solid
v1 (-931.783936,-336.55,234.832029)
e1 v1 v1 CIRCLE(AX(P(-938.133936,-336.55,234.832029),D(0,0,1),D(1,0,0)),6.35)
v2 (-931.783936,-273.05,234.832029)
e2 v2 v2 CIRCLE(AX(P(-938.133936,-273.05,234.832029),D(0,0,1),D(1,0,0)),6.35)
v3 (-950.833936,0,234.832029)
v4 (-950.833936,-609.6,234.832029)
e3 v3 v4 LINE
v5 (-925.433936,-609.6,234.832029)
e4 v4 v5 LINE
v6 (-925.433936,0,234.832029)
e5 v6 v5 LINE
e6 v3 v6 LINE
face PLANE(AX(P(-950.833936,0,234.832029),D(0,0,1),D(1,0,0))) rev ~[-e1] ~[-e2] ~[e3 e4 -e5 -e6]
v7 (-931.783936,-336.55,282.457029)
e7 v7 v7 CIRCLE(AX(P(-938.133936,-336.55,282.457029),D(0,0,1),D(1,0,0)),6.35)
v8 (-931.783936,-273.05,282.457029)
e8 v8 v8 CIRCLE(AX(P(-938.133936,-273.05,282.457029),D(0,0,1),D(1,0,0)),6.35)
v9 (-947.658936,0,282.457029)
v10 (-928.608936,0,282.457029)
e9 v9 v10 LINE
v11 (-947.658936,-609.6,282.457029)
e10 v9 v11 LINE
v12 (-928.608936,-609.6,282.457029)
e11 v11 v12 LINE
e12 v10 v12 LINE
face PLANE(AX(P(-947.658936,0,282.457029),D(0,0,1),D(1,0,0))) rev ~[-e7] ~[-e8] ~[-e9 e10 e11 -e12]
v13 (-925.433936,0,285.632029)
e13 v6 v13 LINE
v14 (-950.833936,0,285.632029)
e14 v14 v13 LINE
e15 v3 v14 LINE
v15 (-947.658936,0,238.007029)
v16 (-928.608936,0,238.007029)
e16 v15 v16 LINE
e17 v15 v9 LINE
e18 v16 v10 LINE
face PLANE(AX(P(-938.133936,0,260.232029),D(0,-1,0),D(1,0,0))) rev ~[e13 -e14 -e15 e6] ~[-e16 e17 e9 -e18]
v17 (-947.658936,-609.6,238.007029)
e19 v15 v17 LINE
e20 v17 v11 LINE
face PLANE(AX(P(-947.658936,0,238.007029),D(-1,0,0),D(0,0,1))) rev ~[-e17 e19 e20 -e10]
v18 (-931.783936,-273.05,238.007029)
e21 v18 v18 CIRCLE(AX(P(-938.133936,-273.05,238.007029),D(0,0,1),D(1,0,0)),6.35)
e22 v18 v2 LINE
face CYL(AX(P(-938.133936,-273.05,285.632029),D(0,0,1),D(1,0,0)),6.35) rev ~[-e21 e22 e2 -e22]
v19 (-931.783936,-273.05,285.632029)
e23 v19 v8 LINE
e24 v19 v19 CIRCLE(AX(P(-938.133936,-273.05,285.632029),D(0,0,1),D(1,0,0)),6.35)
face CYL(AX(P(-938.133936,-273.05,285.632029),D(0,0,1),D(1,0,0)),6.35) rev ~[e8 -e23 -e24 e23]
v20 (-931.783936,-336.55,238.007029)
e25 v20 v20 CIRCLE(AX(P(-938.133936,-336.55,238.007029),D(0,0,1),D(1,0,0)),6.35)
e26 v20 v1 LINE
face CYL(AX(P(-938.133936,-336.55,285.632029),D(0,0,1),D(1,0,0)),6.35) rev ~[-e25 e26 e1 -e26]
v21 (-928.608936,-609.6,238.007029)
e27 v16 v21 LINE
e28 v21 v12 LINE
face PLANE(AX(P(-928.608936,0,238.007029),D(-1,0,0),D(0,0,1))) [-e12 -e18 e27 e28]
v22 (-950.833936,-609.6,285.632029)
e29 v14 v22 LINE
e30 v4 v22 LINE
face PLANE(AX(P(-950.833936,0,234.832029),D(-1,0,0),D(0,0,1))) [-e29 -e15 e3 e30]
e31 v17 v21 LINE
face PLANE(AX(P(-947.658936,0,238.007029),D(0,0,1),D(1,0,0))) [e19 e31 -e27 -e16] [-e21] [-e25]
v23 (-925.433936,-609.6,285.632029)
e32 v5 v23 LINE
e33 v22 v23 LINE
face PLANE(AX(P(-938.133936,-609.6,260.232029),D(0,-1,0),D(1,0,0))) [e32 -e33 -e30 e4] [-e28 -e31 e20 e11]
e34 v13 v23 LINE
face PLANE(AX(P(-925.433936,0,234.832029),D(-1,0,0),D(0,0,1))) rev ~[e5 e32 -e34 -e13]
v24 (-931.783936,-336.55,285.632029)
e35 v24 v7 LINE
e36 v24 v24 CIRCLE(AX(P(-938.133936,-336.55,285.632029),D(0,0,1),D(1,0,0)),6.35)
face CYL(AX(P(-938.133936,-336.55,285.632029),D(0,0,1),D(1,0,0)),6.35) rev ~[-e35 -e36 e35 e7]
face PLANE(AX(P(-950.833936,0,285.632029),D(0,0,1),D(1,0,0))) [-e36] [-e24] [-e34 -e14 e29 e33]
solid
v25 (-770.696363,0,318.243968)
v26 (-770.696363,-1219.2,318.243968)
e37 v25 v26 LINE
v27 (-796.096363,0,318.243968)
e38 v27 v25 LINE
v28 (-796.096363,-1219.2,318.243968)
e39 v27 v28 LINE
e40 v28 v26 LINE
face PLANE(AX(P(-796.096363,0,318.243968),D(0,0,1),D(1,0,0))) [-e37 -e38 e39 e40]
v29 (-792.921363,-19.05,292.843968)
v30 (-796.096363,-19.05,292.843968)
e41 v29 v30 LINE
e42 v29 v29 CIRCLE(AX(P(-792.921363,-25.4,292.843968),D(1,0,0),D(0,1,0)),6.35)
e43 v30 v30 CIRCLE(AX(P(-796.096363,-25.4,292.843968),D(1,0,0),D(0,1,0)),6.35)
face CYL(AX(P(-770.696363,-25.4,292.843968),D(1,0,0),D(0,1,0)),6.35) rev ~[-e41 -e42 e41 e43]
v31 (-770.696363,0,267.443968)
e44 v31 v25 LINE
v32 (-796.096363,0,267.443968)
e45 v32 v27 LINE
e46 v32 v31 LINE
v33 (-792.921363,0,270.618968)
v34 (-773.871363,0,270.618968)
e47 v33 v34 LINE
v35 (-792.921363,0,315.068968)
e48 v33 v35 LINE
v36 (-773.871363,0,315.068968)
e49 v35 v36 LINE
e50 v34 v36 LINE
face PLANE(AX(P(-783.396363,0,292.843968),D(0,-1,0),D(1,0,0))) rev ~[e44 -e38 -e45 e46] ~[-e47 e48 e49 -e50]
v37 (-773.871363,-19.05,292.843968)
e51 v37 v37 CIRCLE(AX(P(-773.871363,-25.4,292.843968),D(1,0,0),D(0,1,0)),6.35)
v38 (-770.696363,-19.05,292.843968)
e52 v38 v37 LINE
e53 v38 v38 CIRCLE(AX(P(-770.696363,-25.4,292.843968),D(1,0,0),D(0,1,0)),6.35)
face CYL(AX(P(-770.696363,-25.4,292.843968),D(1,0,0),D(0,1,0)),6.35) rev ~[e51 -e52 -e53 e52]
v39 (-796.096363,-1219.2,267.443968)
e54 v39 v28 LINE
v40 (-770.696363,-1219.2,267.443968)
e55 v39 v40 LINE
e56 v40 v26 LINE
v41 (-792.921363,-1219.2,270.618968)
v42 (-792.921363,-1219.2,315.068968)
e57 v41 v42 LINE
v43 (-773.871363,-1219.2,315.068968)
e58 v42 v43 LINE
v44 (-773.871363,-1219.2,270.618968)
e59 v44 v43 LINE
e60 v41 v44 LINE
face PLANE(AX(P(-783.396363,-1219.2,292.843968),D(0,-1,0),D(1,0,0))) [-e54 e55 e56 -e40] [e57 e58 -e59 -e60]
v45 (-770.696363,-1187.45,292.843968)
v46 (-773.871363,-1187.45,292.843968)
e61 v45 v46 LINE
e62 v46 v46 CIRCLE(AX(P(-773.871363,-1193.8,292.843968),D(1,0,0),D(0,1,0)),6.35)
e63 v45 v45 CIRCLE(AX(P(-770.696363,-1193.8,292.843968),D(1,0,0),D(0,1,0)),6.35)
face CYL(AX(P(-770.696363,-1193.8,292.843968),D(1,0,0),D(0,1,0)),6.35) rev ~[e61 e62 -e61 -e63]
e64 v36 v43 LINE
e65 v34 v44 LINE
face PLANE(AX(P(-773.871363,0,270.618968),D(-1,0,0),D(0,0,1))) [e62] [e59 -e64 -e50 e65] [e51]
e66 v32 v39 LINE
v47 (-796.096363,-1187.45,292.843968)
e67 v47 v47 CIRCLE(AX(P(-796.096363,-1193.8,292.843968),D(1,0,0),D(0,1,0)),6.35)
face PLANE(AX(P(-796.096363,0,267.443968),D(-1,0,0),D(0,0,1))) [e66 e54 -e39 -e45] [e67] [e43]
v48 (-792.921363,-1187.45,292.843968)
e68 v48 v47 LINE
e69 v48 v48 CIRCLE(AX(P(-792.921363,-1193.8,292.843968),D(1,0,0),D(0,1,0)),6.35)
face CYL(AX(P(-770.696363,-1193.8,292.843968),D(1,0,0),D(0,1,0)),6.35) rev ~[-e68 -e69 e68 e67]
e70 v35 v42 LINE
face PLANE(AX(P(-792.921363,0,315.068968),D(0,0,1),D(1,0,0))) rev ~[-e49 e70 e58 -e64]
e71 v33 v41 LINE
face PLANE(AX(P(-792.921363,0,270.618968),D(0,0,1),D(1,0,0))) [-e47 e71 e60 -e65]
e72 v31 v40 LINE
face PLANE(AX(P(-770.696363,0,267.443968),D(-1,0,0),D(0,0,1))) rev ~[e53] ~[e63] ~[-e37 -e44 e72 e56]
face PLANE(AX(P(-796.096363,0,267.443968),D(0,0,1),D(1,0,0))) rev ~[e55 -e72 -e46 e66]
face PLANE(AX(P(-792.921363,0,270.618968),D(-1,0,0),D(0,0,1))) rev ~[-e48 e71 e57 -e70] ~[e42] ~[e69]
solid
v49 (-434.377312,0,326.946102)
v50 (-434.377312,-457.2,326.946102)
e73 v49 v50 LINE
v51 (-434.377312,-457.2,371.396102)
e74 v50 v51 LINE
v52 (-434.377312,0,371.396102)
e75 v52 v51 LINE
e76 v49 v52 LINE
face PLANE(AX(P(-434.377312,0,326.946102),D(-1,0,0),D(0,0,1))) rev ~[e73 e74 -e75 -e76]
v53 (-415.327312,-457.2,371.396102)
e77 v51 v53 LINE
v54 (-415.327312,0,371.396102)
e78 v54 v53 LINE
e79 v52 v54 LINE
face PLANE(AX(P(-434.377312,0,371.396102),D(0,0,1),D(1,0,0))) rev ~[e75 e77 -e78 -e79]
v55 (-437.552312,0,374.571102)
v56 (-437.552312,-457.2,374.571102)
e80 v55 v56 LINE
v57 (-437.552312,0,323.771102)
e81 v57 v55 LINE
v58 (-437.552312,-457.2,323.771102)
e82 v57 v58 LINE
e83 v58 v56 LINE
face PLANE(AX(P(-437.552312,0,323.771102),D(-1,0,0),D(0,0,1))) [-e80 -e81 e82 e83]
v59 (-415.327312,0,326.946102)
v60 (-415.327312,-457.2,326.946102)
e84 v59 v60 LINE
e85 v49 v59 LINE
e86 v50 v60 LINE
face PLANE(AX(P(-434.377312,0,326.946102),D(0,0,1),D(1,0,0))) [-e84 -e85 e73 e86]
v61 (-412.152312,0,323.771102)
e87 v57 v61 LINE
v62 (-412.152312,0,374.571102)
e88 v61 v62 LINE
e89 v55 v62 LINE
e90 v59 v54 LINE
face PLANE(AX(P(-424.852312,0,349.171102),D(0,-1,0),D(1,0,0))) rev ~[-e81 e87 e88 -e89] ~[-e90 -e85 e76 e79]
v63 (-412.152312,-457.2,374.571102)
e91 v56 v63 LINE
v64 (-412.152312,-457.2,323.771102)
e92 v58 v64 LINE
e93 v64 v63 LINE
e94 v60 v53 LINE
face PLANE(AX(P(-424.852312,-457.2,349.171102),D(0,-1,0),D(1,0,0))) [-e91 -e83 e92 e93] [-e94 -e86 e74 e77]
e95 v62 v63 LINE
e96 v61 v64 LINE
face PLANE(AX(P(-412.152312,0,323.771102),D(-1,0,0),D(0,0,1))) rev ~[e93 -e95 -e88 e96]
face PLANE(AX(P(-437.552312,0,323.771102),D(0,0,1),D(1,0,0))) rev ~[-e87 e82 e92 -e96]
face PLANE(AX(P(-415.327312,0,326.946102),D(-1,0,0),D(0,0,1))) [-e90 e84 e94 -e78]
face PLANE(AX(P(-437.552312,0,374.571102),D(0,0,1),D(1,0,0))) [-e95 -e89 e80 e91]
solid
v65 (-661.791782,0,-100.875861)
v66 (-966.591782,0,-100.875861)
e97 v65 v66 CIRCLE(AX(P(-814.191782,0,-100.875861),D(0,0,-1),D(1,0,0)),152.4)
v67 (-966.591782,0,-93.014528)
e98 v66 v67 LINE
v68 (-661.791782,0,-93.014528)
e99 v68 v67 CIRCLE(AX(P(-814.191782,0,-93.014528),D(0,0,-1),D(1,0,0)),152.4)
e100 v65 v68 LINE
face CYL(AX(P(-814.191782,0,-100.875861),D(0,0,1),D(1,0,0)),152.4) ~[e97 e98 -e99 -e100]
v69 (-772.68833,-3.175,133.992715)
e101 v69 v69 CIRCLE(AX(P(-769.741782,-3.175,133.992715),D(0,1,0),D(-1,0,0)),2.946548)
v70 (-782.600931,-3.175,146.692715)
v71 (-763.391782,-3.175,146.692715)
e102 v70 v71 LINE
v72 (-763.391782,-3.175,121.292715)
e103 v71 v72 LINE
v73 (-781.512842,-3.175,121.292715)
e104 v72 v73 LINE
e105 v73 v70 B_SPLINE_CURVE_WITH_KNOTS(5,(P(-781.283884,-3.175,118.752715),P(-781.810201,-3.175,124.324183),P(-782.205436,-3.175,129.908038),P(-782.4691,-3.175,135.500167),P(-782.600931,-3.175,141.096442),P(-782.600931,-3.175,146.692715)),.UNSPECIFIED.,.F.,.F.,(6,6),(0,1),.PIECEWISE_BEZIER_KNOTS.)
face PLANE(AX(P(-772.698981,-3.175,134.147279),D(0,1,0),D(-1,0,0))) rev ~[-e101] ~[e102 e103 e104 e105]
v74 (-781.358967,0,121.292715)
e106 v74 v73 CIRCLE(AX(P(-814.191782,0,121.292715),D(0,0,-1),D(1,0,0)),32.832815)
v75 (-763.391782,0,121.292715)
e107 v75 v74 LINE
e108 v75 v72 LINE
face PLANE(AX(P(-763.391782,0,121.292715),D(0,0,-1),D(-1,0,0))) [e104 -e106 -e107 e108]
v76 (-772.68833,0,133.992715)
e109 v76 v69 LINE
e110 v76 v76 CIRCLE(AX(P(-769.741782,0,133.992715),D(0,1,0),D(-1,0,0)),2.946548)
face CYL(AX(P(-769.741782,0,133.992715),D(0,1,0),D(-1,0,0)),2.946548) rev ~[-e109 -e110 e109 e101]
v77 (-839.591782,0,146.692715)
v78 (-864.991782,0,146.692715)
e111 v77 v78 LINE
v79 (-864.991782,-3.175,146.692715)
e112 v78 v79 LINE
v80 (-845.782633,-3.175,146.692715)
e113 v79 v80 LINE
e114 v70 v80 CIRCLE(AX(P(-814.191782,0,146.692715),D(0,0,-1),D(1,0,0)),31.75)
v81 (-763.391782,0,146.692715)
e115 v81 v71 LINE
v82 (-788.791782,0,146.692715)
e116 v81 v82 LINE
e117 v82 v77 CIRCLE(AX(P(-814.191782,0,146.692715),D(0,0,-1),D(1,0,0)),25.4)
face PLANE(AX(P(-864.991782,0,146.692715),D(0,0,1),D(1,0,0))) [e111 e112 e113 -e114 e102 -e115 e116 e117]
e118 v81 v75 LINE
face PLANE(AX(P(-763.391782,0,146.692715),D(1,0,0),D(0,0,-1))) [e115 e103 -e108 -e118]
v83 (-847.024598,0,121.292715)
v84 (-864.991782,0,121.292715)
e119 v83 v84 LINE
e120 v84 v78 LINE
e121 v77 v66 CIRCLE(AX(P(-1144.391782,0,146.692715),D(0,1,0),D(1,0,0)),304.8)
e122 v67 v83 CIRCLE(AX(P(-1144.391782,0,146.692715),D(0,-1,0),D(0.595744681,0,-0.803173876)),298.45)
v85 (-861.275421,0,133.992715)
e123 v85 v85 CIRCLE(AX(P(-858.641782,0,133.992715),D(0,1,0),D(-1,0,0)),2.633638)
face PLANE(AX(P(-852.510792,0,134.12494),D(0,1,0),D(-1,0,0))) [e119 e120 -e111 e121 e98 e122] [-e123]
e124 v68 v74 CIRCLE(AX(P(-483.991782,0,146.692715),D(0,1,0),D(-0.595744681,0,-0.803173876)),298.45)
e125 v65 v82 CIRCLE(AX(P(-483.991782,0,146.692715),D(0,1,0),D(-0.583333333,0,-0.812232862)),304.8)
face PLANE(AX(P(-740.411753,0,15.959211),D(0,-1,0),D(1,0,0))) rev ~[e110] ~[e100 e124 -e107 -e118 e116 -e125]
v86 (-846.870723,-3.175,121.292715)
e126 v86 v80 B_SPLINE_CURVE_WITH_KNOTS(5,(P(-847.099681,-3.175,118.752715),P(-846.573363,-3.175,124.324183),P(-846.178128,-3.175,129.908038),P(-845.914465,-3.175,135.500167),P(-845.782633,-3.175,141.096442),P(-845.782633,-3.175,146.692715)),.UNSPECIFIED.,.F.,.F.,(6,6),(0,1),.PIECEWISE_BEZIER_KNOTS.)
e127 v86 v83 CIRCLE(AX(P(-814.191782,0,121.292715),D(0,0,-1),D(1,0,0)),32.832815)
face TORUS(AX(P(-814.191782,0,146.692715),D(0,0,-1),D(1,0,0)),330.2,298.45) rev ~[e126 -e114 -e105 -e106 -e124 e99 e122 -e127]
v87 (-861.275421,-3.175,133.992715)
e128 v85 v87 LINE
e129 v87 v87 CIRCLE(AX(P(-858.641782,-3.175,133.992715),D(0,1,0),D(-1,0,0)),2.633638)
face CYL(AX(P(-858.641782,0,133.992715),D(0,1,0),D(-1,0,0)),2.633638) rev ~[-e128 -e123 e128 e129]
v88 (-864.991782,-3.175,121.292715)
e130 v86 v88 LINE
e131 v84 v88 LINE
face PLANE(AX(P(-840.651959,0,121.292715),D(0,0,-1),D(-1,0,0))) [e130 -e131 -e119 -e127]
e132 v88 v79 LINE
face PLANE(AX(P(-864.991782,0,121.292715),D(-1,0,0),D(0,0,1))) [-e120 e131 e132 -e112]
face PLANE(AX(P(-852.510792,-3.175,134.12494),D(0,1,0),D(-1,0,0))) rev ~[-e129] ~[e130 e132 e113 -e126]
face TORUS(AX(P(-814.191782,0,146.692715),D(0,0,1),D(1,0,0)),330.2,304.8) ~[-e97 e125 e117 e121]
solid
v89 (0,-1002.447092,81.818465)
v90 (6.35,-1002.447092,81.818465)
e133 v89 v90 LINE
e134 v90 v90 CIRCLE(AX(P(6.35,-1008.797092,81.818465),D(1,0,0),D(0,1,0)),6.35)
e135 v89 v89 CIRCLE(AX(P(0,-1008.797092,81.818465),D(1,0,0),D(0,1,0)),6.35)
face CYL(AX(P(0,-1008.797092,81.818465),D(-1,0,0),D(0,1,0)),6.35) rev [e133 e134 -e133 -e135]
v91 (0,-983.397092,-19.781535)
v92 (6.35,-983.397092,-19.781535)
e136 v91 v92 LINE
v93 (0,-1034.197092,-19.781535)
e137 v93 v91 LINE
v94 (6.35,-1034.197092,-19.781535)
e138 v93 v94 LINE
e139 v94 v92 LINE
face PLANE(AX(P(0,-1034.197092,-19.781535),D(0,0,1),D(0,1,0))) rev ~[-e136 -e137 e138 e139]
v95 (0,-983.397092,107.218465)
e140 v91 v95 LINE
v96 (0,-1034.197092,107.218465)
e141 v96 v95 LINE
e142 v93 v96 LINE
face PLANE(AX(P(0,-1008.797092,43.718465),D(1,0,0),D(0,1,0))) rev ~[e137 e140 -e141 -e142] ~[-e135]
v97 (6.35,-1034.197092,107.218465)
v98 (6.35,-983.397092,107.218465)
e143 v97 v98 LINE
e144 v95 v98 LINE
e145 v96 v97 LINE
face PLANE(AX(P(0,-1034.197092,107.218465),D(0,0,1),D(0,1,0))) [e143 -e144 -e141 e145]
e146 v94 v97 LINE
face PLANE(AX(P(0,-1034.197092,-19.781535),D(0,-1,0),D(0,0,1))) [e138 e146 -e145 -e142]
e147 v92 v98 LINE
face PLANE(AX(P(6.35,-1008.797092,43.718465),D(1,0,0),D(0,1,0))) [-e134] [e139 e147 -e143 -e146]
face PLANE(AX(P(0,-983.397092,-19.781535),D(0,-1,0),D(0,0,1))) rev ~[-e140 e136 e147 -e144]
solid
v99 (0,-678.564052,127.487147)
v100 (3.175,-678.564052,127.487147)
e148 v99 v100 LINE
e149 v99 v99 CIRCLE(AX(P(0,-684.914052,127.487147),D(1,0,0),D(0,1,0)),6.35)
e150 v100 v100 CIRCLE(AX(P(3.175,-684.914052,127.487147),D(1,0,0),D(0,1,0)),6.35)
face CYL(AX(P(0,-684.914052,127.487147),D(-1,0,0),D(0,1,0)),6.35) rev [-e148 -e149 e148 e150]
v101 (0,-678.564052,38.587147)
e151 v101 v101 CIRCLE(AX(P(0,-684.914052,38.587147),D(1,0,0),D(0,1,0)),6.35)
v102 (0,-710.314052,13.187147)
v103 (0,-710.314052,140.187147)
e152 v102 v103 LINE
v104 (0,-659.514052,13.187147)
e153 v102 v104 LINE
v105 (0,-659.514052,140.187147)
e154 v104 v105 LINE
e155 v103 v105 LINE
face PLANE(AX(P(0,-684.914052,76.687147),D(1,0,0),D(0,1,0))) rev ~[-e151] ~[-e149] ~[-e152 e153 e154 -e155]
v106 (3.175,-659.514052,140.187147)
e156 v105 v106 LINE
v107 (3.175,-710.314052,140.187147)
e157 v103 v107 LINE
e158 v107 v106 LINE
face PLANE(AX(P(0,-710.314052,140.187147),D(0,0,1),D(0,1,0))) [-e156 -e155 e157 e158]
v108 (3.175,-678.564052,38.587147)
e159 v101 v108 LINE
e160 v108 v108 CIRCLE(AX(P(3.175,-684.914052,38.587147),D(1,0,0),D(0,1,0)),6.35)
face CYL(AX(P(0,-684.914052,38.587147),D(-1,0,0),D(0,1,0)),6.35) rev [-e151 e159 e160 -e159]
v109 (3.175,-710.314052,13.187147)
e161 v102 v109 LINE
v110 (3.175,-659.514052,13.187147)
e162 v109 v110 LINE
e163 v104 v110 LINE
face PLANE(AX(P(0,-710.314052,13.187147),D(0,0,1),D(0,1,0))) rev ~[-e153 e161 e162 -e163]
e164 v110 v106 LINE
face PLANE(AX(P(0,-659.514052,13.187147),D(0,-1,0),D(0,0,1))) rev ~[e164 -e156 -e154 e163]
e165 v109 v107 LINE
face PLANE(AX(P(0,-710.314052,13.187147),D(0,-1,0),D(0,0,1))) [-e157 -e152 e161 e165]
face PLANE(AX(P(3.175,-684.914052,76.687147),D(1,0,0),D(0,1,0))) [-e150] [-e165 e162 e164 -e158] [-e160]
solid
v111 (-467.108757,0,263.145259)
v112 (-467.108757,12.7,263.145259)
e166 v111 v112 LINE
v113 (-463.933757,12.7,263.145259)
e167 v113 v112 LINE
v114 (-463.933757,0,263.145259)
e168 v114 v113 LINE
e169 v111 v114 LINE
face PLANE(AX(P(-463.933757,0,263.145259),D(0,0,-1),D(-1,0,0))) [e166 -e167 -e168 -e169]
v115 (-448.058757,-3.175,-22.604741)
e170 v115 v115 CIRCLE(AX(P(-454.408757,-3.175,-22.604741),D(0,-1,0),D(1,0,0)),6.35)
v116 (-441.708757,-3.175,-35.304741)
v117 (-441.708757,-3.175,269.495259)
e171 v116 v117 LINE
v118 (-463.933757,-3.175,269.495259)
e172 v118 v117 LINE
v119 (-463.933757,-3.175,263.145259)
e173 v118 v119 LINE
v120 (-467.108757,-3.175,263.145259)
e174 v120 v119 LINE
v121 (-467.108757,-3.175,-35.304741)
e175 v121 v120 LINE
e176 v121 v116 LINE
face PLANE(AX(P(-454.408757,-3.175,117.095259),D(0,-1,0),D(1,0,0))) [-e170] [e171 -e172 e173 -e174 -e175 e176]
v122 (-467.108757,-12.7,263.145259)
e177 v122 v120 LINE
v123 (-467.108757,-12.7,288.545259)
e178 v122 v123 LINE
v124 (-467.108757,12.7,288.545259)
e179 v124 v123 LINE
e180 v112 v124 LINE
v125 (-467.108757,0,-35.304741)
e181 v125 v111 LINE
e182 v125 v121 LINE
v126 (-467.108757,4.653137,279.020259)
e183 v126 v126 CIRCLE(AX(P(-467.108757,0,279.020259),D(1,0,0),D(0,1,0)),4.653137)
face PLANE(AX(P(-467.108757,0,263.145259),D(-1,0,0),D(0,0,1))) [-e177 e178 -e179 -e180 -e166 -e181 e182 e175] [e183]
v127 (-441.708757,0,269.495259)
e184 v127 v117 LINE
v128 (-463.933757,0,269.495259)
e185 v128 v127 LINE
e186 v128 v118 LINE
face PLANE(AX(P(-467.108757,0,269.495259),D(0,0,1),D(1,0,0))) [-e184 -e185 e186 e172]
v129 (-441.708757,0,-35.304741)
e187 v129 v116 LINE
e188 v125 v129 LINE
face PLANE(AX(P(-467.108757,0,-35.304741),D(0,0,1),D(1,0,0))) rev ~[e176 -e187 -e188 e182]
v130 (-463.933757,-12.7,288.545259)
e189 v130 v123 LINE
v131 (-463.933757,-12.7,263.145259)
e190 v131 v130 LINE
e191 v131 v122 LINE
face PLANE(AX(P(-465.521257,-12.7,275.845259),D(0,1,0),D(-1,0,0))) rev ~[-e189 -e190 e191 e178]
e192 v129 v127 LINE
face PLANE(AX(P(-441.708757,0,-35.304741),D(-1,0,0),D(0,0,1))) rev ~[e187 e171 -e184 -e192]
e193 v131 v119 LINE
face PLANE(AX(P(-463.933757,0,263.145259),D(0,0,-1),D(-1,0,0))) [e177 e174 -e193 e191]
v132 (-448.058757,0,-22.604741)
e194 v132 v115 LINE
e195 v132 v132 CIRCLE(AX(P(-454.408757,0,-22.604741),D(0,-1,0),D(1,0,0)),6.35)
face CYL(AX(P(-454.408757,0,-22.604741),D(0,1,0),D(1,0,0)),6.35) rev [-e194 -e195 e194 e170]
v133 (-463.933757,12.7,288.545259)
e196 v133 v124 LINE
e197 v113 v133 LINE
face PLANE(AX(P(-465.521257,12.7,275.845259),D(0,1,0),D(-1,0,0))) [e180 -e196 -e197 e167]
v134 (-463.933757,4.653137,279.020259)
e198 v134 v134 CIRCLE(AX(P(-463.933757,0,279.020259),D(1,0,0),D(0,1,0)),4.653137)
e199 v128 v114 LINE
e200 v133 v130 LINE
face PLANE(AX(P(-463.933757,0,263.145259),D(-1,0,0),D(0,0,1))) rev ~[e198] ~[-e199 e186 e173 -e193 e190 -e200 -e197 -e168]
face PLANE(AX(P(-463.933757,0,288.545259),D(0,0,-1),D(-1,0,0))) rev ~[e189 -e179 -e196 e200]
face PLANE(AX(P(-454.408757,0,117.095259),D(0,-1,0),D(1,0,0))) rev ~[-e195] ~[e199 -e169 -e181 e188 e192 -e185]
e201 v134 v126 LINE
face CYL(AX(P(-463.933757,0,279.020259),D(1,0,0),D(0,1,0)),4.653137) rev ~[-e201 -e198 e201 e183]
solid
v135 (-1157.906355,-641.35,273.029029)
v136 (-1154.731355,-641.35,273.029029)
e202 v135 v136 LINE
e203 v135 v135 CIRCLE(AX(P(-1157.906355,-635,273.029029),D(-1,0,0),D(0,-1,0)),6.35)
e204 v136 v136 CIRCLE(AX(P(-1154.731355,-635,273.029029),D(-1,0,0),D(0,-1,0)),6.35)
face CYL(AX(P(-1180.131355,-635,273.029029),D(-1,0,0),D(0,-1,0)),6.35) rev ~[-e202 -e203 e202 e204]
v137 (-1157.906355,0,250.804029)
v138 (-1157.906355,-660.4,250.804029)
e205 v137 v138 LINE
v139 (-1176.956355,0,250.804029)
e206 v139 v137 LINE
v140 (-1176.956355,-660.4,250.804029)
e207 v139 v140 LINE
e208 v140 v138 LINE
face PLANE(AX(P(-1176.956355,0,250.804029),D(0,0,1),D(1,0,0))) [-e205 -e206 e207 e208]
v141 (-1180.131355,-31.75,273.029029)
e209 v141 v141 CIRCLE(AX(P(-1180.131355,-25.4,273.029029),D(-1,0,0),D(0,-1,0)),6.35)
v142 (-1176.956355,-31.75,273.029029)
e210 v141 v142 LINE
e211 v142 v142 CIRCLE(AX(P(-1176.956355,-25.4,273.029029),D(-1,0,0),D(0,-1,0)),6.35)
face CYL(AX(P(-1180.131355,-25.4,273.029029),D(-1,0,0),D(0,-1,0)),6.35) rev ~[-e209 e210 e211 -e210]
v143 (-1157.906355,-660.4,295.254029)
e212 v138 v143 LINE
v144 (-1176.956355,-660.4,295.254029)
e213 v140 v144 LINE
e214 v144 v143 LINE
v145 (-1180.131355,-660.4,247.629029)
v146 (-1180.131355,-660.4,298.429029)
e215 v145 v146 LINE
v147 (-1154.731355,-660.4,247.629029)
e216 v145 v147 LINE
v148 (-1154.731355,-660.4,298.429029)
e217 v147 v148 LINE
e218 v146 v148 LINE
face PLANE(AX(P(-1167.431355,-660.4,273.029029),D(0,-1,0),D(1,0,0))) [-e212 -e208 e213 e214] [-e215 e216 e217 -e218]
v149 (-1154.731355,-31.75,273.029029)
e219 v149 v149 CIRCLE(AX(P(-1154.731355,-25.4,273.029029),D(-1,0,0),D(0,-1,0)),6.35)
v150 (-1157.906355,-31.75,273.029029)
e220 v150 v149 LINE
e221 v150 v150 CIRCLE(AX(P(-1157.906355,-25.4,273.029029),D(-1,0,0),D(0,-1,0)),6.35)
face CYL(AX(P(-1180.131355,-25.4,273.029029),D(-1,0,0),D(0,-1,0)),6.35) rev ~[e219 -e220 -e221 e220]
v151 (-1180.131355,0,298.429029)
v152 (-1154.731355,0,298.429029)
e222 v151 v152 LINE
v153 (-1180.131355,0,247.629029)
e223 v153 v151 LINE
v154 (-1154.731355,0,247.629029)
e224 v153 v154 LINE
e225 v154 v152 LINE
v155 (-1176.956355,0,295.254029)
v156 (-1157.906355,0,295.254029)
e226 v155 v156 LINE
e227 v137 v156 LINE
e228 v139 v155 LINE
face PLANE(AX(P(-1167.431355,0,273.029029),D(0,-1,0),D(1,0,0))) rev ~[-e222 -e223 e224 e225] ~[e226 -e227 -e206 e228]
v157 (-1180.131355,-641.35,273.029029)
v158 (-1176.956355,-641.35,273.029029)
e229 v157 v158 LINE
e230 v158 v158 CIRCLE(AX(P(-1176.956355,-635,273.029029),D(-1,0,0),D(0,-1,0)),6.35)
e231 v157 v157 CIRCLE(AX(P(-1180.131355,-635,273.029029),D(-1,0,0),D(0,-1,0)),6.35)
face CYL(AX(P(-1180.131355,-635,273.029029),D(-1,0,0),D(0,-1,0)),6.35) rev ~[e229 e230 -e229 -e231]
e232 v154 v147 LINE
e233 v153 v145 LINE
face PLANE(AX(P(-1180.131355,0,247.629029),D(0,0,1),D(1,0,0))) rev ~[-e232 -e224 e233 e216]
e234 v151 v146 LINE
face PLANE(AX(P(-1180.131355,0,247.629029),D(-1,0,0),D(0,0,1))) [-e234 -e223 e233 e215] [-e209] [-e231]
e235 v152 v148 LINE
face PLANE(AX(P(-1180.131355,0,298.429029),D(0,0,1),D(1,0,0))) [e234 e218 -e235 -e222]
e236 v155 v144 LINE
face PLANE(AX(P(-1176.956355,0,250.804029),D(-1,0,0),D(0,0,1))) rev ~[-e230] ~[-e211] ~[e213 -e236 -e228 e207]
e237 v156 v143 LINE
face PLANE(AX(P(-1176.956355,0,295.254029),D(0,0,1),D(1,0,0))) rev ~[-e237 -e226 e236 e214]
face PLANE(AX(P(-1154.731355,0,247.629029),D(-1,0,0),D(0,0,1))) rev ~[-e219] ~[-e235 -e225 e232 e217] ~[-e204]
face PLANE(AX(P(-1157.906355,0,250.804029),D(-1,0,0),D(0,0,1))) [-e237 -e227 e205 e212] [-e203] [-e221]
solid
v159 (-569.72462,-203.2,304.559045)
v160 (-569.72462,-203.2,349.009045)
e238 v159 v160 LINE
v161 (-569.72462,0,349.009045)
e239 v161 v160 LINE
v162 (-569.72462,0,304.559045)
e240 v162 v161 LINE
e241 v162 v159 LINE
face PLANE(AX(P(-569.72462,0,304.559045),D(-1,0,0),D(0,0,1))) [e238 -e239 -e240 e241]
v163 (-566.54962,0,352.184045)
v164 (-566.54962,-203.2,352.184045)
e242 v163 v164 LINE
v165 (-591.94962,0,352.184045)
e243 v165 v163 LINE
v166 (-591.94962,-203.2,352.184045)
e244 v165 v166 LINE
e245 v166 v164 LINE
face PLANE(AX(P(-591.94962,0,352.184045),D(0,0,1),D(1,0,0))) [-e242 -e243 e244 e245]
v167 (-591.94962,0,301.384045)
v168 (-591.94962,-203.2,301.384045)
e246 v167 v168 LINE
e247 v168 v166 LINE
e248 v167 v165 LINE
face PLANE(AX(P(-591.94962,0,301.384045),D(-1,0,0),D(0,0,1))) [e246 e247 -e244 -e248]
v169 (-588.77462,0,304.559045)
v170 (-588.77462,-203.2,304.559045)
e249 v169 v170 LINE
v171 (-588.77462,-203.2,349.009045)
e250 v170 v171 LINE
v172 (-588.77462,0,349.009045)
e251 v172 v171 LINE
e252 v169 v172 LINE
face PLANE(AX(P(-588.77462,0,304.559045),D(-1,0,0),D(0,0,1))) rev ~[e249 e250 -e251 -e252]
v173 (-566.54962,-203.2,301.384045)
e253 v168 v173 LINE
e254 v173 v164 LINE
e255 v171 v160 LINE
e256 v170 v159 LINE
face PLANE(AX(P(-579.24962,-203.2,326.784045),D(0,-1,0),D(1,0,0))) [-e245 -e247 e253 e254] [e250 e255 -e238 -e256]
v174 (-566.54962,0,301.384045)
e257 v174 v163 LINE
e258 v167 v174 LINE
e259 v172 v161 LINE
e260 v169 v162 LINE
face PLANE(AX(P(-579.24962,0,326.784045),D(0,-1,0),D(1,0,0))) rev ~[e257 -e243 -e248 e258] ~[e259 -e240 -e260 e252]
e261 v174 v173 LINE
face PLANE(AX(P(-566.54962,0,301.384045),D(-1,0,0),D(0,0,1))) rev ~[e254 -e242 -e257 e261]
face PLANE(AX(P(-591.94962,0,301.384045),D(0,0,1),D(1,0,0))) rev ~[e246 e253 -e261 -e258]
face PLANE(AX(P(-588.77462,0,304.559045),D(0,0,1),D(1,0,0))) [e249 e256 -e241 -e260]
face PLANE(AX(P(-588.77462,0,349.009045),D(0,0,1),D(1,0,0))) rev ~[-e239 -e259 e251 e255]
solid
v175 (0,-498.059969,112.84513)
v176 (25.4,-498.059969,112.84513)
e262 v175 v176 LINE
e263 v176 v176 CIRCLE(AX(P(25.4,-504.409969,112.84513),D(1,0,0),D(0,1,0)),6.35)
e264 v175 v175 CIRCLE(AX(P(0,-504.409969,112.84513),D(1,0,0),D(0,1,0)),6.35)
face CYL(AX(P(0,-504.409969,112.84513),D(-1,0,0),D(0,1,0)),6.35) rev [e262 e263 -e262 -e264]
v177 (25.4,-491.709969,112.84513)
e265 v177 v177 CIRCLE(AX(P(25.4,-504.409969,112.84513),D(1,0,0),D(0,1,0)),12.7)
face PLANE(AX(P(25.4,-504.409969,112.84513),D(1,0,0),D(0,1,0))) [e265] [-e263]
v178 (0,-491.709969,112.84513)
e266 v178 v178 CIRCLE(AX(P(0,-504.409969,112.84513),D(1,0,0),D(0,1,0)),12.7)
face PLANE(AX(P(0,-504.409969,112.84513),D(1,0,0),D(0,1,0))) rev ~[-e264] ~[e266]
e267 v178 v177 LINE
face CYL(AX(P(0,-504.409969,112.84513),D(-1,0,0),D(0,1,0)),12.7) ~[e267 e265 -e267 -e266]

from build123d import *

# Parameters (mm, degrees)
F0_W      = 25.4
F0_H      = 50.8
F0_W_2    = 19.05
F0_H_2    = 44.45
F1_DEPTH  = 609.6
F2_W      = 25.4
F2_H      = 50.8
F2_W_2    = 19.05
F2_H_2    = 44.45
F3_DEPTH  = 660.4
F4_W      = 25.4
F4_H      = 50.8
F4_W_2    = 19.05
F4_H_2    = 44.45
F5_DEPTH  = 1219.2
F6_R      = 6.35
F7_DEPTH  = 50.8
F8_W      = 50.8
F8_H      = 127
F8_R      = 6.35
F9_DEPTH  = 6.35
F10_R     = 6.35
F11_DEPTH = 50.8
F12_W     = 25.4
F12_H     = 50.8
F12_W_2   = 19.05
F12_H_2   = 44.45
F13_DEPTH = 203.2
F14_W     = 25.4
F14_H     = 50.8
F14_W_2   = 19.05
F14_H_2   = 44.45
F15_DEPTH = 457.2
F16_R     = 6.35
F17_DEPTH = 38.1
F18_W     = 50.8
F18_H     = 127
F18_R     = 6.35
F19_DEPTH = 3.175
F20_R     = 12.7
F20_R_2   = 6.35
F21_DEPTH = 25.4
F23_ANGLE = 180
F24_R     = 2.633638492
F24_R_2   = 2.9465477652
F25_DEPTH = 3.175
F26_W     = 25.4
F26_H     = 304.8
F26_R     = 6.35
F27_DEPTH = 3.175
F28_W     = 3.175
F28_H     = 25.4
F29_DEPTH = 12.7
F30_R     = 4.6531365649
F31_DEPTH = 25.4


with BuildPart() as f1:
    # F0 (on Front) → F1 (new body)
    with BuildSketch(Plane.XZ):
        with Locations((-938.133935833, 260.2320292473)):
            Rectangle(F0_W, F0_H)
        with Locations((-938.133935833, 260.2320292473)):
            Rectangle(F0_W_2, F0_H_2, mode=Mode.SUBTRACT)
    extrude(amount=F1_DEPTH)

    # F10 (on face) → F11 (cut)
    with BuildSketch(Plane.XY.offset(285.6320292473)):
        with Locations((-938.133935833, -273.05)):
            Circle(F10_R)
        with Locations((-938.133935833, -336.55)):
            Circle(F10_R)
    extrude(amount=-F11_DEPTH, mode=Mode.SUBTRACT)


with BuildPart() as f3:
    # F2 (on Front) → F3 (new body)
    with BuildSketch(Plane.XZ):
        with Locations((-1167.4313545227, 273.0290293694)):
            Rectangle(F2_W, F2_H)
        with Locations((-1167.4313545227, 273.0290293694)):
            Rectangle(F2_W_2, F2_H_2, mode=Mode.SUBTRACT)
    extrude(amount=F3_DEPTH)

    # F16 (on face) → F17 (cut)
    with BuildSketch(Plane(origin=(-1180.1313545227, 0, 0), x_dir=(0, -1, 0), z_dir=(-1, 0, 0))):
        with Locations((635, 273.0290293694)):
            Circle(F16_R)
        with Locations((25.4, 273.0290293694)):
            Circle(F16_R)
    extrude(amount=-F17_DEPTH, mode=Mode.SUBTRACT)


with BuildPart() as f5:
    # F4 (on Front) → F5 (new body)
    with BuildSketch(Plane.XZ):
        with Locations((-783.3963632584, 292.8439676762)):
            Rectangle(F4_W, F4_H)
        with Locations((-783.3963632584, 292.8439676762)):
            Rectangle(F4_W_2, F4_H_2, mode=Mode.SUBTRACT)
    extrude(amount=F5_DEPTH)

    # F6 (on face) → F7 (cut)
    with BuildSketch(Plane.YZ.offset(-770.6963632584)):
        with Locations((-1193.8, 292.8439676762)):
            Circle(F6_R)
        with Locations((-25.4, 292.8439676762)):
            Circle(F6_R)
    extrude(amount=-F7_DEPTH, mode=Mode.SUBTRACT)


with BuildPart() as f9:
    # F8 (on Right) → F9 (new body)
    with BuildSketch(Plane.YZ):
        with Locations((-1008.7970920563, 43.7184645087)):
            Rectangle(F8_W, F8_H)
        with Locations((-1008.7970920563, 81.8184645087)):
            Circle(F8_R, mode=Mode.SUBTRACT)
    extrude(amount=F9_DEPTH)


with BuildPart() as f13:
    # F12 (on Front) → F13 (new body)
    with BuildSketch(Plane.XZ):
        with Locations((-579.2496204376, 326.7840445042)):
            Rectangle(F12_W, F12_H)
        with Locations((-579.2496204376, 326.7840445042)):
            Rectangle(F12_W_2, F12_H_2, mode=Mode.SUBTRACT)
    extrude(amount=F13_DEPTH)


with BuildPart() as f15:
    # F14 (on Front) → F15 (new body)
    with BuildSketch(Plane.XZ):
        with Locations((-424.8523116112, 349.171102047)):
            Rectangle(F14_W, F14_H)
        with Locations((-424.8523116112, 349.171102047)):
            Rectangle(F14_W_2, F14_H_2, mode=Mode.SUBTRACT)
    extrude(amount=F15_DEPTH)


with BuildPart() as f19:
    # F18 (on Right) → F19 (new body)
    with BuildSketch(Plane.YZ):
        with Locations((-684.9140524864, 76.6871474198)):
            Rectangle(F18_W, F18_H)
        with Locations((-684.9140524864, 38.5871474198)):
            Circle(F18_R, mode=Mode.SUBTRACT)
        with Locations((-684.9140524864, 127.4871474198)):
            Circle(F18_R, mode=Mode.SUBTRACT)
    extrude(amount=F19_DEPTH)


with BuildPart() as f21:
    # F20 (on Right) → F21 (new body)
    with BuildSketch(Plane.YZ):
        with Locations((-504.409968853, 112.8451302648)):
            Circle(F20_R)
        with Locations((-504.409968853, 112.8451302648)):
            Circle(F20_R_2, mode=Mode.SUBTRACT)
    extrude(amount=F21_DEPTH)


with BuildPart() as f23:
    # F22 (on Front) → F23 (revolve)
    with BuildSketch(Plane.XZ):
        with BuildLine():
            Line((-782.4417822541, 146.6927153502), (-788.7917822541, 146.6927153502))
            ThreePointArc((-788.7917822541, 146.6927153502), (-755.1895698557, 7.5711857439), (-661.7917822541, -100.8758610079))
            Line((-661.7917822541, -100.8758610079), (-661.7917822541, -93.0145279696))
            ThreePointArc((-661.7917822541, -93.0145279696), (-750.578365281, 12.5137443823), (-782.4417822541, 146.6927153502))
        make_face()
    revolve(axis=Axis((-814.1917822541, 0, 175.9082044236), (0, 0, -1)), revolution_arc=F23_ANGLE)

    # F24 (on face) → F25 (join)
    with BuildSketch(Plane(origin=(0, 0, 0), x_dir=(-1, 0, 0), z_dir=(0, 1, 0))):
        with BuildLine():
            Line((864.9917822541, 121.2927153502), (864.9917822541, 146.6927153502))
            Line((864.9917822541, 146.6927153502), (839.5917822541, 146.6927153502))
            ThreePointArc((839.5917822541, 146.6927153502), (839.8569418727, 133.9816574129), (840.6519593793, 121.2927153502))
            Line((840.6519593793, 121.2927153502), (864.9917822541, 121.2927153502))
        make_face()
        with Locations((858.6417822541, 133.9927153502)):
            Circle(F24_R, mode=Mode.SUBTRACT)
        with BuildLine():
            Line((782.4417822541, 146.6927153502), (763.3917822541, 146.6927153502))
            Line((763.3917822541, 146.6927153502), (763.3917822541, 121.2927153502))
            Line((763.3917822541, 121.2927153502), (781.3589668928, 121.2927153502))
            ThreePointArc((781.3589668928, 121.2927153502), (782.1709555337, 133.9811803415), (782.4417822541, 146.6927153502))
        make_face()
        with Locations((769.7417822541, 133.9927153502)):
            Circle(F24_R_2, mode=Mode.SUBTRACT)
        with BuildLine():
            Line((788.7917822541, 146.6927153502), (782.4417822541, 146.6927153502))
            ThreePointArc((782.4417822541, 146.6927153502), (782.1709555337, 133.9811803415), (781.3589668928, 121.2927153502))
            Line((781.3589668928, 121.2927153502), (787.7316051288, 121.2927153502))
            ThreePointArc((787.7316051288, 121.2927153502), (788.5266226354, 133.9816574129), (788.7917822541, 146.6927153502))
        make_face()
    extrude(amount=-F25_DEPTH)


with BuildPart() as f27:
    # F26 (on Front) → F27 (new body)
    with BuildSketch(Plane.XZ):
        with Locations((-454.4087574686, 117.0952590182)):
            Rectangle(F26_W, F26_H)
        with Locations((-454.4087574686, -22.6047409818)):
            Circle(F26_R, mode=Mode.SUBTRACT)
    extrude(amount=F27_DEPTH)

    # F28 (on face) → F29 (join, symmetric)
    with BuildSketch(Plane(origin=(0, 0, 0), x_dir=(-1, 0, 0), z_dir=(0, 1, 0))):
        with Locations((465.5212574686, 275.8452590182)):
            Rectangle(F28_W, F28_H)
    extrude(amount=F29_DEPTH, both=True)

    # F30 (on face) → F31 (cut)
    with BuildSketch(Plane.YZ.offset(-463.9337574686)):
        with Locations((0, 279.0202590182)):
            Circle(F30_R)
    extrude(amount=-F31_DEPTH, mode=Mode.SUBTRACT)


solid = Compound([f1.part, f3.part, f5.part, f9.part, f13.part, f15.part, f19.part, f21.part, f23.part, f27.part])
